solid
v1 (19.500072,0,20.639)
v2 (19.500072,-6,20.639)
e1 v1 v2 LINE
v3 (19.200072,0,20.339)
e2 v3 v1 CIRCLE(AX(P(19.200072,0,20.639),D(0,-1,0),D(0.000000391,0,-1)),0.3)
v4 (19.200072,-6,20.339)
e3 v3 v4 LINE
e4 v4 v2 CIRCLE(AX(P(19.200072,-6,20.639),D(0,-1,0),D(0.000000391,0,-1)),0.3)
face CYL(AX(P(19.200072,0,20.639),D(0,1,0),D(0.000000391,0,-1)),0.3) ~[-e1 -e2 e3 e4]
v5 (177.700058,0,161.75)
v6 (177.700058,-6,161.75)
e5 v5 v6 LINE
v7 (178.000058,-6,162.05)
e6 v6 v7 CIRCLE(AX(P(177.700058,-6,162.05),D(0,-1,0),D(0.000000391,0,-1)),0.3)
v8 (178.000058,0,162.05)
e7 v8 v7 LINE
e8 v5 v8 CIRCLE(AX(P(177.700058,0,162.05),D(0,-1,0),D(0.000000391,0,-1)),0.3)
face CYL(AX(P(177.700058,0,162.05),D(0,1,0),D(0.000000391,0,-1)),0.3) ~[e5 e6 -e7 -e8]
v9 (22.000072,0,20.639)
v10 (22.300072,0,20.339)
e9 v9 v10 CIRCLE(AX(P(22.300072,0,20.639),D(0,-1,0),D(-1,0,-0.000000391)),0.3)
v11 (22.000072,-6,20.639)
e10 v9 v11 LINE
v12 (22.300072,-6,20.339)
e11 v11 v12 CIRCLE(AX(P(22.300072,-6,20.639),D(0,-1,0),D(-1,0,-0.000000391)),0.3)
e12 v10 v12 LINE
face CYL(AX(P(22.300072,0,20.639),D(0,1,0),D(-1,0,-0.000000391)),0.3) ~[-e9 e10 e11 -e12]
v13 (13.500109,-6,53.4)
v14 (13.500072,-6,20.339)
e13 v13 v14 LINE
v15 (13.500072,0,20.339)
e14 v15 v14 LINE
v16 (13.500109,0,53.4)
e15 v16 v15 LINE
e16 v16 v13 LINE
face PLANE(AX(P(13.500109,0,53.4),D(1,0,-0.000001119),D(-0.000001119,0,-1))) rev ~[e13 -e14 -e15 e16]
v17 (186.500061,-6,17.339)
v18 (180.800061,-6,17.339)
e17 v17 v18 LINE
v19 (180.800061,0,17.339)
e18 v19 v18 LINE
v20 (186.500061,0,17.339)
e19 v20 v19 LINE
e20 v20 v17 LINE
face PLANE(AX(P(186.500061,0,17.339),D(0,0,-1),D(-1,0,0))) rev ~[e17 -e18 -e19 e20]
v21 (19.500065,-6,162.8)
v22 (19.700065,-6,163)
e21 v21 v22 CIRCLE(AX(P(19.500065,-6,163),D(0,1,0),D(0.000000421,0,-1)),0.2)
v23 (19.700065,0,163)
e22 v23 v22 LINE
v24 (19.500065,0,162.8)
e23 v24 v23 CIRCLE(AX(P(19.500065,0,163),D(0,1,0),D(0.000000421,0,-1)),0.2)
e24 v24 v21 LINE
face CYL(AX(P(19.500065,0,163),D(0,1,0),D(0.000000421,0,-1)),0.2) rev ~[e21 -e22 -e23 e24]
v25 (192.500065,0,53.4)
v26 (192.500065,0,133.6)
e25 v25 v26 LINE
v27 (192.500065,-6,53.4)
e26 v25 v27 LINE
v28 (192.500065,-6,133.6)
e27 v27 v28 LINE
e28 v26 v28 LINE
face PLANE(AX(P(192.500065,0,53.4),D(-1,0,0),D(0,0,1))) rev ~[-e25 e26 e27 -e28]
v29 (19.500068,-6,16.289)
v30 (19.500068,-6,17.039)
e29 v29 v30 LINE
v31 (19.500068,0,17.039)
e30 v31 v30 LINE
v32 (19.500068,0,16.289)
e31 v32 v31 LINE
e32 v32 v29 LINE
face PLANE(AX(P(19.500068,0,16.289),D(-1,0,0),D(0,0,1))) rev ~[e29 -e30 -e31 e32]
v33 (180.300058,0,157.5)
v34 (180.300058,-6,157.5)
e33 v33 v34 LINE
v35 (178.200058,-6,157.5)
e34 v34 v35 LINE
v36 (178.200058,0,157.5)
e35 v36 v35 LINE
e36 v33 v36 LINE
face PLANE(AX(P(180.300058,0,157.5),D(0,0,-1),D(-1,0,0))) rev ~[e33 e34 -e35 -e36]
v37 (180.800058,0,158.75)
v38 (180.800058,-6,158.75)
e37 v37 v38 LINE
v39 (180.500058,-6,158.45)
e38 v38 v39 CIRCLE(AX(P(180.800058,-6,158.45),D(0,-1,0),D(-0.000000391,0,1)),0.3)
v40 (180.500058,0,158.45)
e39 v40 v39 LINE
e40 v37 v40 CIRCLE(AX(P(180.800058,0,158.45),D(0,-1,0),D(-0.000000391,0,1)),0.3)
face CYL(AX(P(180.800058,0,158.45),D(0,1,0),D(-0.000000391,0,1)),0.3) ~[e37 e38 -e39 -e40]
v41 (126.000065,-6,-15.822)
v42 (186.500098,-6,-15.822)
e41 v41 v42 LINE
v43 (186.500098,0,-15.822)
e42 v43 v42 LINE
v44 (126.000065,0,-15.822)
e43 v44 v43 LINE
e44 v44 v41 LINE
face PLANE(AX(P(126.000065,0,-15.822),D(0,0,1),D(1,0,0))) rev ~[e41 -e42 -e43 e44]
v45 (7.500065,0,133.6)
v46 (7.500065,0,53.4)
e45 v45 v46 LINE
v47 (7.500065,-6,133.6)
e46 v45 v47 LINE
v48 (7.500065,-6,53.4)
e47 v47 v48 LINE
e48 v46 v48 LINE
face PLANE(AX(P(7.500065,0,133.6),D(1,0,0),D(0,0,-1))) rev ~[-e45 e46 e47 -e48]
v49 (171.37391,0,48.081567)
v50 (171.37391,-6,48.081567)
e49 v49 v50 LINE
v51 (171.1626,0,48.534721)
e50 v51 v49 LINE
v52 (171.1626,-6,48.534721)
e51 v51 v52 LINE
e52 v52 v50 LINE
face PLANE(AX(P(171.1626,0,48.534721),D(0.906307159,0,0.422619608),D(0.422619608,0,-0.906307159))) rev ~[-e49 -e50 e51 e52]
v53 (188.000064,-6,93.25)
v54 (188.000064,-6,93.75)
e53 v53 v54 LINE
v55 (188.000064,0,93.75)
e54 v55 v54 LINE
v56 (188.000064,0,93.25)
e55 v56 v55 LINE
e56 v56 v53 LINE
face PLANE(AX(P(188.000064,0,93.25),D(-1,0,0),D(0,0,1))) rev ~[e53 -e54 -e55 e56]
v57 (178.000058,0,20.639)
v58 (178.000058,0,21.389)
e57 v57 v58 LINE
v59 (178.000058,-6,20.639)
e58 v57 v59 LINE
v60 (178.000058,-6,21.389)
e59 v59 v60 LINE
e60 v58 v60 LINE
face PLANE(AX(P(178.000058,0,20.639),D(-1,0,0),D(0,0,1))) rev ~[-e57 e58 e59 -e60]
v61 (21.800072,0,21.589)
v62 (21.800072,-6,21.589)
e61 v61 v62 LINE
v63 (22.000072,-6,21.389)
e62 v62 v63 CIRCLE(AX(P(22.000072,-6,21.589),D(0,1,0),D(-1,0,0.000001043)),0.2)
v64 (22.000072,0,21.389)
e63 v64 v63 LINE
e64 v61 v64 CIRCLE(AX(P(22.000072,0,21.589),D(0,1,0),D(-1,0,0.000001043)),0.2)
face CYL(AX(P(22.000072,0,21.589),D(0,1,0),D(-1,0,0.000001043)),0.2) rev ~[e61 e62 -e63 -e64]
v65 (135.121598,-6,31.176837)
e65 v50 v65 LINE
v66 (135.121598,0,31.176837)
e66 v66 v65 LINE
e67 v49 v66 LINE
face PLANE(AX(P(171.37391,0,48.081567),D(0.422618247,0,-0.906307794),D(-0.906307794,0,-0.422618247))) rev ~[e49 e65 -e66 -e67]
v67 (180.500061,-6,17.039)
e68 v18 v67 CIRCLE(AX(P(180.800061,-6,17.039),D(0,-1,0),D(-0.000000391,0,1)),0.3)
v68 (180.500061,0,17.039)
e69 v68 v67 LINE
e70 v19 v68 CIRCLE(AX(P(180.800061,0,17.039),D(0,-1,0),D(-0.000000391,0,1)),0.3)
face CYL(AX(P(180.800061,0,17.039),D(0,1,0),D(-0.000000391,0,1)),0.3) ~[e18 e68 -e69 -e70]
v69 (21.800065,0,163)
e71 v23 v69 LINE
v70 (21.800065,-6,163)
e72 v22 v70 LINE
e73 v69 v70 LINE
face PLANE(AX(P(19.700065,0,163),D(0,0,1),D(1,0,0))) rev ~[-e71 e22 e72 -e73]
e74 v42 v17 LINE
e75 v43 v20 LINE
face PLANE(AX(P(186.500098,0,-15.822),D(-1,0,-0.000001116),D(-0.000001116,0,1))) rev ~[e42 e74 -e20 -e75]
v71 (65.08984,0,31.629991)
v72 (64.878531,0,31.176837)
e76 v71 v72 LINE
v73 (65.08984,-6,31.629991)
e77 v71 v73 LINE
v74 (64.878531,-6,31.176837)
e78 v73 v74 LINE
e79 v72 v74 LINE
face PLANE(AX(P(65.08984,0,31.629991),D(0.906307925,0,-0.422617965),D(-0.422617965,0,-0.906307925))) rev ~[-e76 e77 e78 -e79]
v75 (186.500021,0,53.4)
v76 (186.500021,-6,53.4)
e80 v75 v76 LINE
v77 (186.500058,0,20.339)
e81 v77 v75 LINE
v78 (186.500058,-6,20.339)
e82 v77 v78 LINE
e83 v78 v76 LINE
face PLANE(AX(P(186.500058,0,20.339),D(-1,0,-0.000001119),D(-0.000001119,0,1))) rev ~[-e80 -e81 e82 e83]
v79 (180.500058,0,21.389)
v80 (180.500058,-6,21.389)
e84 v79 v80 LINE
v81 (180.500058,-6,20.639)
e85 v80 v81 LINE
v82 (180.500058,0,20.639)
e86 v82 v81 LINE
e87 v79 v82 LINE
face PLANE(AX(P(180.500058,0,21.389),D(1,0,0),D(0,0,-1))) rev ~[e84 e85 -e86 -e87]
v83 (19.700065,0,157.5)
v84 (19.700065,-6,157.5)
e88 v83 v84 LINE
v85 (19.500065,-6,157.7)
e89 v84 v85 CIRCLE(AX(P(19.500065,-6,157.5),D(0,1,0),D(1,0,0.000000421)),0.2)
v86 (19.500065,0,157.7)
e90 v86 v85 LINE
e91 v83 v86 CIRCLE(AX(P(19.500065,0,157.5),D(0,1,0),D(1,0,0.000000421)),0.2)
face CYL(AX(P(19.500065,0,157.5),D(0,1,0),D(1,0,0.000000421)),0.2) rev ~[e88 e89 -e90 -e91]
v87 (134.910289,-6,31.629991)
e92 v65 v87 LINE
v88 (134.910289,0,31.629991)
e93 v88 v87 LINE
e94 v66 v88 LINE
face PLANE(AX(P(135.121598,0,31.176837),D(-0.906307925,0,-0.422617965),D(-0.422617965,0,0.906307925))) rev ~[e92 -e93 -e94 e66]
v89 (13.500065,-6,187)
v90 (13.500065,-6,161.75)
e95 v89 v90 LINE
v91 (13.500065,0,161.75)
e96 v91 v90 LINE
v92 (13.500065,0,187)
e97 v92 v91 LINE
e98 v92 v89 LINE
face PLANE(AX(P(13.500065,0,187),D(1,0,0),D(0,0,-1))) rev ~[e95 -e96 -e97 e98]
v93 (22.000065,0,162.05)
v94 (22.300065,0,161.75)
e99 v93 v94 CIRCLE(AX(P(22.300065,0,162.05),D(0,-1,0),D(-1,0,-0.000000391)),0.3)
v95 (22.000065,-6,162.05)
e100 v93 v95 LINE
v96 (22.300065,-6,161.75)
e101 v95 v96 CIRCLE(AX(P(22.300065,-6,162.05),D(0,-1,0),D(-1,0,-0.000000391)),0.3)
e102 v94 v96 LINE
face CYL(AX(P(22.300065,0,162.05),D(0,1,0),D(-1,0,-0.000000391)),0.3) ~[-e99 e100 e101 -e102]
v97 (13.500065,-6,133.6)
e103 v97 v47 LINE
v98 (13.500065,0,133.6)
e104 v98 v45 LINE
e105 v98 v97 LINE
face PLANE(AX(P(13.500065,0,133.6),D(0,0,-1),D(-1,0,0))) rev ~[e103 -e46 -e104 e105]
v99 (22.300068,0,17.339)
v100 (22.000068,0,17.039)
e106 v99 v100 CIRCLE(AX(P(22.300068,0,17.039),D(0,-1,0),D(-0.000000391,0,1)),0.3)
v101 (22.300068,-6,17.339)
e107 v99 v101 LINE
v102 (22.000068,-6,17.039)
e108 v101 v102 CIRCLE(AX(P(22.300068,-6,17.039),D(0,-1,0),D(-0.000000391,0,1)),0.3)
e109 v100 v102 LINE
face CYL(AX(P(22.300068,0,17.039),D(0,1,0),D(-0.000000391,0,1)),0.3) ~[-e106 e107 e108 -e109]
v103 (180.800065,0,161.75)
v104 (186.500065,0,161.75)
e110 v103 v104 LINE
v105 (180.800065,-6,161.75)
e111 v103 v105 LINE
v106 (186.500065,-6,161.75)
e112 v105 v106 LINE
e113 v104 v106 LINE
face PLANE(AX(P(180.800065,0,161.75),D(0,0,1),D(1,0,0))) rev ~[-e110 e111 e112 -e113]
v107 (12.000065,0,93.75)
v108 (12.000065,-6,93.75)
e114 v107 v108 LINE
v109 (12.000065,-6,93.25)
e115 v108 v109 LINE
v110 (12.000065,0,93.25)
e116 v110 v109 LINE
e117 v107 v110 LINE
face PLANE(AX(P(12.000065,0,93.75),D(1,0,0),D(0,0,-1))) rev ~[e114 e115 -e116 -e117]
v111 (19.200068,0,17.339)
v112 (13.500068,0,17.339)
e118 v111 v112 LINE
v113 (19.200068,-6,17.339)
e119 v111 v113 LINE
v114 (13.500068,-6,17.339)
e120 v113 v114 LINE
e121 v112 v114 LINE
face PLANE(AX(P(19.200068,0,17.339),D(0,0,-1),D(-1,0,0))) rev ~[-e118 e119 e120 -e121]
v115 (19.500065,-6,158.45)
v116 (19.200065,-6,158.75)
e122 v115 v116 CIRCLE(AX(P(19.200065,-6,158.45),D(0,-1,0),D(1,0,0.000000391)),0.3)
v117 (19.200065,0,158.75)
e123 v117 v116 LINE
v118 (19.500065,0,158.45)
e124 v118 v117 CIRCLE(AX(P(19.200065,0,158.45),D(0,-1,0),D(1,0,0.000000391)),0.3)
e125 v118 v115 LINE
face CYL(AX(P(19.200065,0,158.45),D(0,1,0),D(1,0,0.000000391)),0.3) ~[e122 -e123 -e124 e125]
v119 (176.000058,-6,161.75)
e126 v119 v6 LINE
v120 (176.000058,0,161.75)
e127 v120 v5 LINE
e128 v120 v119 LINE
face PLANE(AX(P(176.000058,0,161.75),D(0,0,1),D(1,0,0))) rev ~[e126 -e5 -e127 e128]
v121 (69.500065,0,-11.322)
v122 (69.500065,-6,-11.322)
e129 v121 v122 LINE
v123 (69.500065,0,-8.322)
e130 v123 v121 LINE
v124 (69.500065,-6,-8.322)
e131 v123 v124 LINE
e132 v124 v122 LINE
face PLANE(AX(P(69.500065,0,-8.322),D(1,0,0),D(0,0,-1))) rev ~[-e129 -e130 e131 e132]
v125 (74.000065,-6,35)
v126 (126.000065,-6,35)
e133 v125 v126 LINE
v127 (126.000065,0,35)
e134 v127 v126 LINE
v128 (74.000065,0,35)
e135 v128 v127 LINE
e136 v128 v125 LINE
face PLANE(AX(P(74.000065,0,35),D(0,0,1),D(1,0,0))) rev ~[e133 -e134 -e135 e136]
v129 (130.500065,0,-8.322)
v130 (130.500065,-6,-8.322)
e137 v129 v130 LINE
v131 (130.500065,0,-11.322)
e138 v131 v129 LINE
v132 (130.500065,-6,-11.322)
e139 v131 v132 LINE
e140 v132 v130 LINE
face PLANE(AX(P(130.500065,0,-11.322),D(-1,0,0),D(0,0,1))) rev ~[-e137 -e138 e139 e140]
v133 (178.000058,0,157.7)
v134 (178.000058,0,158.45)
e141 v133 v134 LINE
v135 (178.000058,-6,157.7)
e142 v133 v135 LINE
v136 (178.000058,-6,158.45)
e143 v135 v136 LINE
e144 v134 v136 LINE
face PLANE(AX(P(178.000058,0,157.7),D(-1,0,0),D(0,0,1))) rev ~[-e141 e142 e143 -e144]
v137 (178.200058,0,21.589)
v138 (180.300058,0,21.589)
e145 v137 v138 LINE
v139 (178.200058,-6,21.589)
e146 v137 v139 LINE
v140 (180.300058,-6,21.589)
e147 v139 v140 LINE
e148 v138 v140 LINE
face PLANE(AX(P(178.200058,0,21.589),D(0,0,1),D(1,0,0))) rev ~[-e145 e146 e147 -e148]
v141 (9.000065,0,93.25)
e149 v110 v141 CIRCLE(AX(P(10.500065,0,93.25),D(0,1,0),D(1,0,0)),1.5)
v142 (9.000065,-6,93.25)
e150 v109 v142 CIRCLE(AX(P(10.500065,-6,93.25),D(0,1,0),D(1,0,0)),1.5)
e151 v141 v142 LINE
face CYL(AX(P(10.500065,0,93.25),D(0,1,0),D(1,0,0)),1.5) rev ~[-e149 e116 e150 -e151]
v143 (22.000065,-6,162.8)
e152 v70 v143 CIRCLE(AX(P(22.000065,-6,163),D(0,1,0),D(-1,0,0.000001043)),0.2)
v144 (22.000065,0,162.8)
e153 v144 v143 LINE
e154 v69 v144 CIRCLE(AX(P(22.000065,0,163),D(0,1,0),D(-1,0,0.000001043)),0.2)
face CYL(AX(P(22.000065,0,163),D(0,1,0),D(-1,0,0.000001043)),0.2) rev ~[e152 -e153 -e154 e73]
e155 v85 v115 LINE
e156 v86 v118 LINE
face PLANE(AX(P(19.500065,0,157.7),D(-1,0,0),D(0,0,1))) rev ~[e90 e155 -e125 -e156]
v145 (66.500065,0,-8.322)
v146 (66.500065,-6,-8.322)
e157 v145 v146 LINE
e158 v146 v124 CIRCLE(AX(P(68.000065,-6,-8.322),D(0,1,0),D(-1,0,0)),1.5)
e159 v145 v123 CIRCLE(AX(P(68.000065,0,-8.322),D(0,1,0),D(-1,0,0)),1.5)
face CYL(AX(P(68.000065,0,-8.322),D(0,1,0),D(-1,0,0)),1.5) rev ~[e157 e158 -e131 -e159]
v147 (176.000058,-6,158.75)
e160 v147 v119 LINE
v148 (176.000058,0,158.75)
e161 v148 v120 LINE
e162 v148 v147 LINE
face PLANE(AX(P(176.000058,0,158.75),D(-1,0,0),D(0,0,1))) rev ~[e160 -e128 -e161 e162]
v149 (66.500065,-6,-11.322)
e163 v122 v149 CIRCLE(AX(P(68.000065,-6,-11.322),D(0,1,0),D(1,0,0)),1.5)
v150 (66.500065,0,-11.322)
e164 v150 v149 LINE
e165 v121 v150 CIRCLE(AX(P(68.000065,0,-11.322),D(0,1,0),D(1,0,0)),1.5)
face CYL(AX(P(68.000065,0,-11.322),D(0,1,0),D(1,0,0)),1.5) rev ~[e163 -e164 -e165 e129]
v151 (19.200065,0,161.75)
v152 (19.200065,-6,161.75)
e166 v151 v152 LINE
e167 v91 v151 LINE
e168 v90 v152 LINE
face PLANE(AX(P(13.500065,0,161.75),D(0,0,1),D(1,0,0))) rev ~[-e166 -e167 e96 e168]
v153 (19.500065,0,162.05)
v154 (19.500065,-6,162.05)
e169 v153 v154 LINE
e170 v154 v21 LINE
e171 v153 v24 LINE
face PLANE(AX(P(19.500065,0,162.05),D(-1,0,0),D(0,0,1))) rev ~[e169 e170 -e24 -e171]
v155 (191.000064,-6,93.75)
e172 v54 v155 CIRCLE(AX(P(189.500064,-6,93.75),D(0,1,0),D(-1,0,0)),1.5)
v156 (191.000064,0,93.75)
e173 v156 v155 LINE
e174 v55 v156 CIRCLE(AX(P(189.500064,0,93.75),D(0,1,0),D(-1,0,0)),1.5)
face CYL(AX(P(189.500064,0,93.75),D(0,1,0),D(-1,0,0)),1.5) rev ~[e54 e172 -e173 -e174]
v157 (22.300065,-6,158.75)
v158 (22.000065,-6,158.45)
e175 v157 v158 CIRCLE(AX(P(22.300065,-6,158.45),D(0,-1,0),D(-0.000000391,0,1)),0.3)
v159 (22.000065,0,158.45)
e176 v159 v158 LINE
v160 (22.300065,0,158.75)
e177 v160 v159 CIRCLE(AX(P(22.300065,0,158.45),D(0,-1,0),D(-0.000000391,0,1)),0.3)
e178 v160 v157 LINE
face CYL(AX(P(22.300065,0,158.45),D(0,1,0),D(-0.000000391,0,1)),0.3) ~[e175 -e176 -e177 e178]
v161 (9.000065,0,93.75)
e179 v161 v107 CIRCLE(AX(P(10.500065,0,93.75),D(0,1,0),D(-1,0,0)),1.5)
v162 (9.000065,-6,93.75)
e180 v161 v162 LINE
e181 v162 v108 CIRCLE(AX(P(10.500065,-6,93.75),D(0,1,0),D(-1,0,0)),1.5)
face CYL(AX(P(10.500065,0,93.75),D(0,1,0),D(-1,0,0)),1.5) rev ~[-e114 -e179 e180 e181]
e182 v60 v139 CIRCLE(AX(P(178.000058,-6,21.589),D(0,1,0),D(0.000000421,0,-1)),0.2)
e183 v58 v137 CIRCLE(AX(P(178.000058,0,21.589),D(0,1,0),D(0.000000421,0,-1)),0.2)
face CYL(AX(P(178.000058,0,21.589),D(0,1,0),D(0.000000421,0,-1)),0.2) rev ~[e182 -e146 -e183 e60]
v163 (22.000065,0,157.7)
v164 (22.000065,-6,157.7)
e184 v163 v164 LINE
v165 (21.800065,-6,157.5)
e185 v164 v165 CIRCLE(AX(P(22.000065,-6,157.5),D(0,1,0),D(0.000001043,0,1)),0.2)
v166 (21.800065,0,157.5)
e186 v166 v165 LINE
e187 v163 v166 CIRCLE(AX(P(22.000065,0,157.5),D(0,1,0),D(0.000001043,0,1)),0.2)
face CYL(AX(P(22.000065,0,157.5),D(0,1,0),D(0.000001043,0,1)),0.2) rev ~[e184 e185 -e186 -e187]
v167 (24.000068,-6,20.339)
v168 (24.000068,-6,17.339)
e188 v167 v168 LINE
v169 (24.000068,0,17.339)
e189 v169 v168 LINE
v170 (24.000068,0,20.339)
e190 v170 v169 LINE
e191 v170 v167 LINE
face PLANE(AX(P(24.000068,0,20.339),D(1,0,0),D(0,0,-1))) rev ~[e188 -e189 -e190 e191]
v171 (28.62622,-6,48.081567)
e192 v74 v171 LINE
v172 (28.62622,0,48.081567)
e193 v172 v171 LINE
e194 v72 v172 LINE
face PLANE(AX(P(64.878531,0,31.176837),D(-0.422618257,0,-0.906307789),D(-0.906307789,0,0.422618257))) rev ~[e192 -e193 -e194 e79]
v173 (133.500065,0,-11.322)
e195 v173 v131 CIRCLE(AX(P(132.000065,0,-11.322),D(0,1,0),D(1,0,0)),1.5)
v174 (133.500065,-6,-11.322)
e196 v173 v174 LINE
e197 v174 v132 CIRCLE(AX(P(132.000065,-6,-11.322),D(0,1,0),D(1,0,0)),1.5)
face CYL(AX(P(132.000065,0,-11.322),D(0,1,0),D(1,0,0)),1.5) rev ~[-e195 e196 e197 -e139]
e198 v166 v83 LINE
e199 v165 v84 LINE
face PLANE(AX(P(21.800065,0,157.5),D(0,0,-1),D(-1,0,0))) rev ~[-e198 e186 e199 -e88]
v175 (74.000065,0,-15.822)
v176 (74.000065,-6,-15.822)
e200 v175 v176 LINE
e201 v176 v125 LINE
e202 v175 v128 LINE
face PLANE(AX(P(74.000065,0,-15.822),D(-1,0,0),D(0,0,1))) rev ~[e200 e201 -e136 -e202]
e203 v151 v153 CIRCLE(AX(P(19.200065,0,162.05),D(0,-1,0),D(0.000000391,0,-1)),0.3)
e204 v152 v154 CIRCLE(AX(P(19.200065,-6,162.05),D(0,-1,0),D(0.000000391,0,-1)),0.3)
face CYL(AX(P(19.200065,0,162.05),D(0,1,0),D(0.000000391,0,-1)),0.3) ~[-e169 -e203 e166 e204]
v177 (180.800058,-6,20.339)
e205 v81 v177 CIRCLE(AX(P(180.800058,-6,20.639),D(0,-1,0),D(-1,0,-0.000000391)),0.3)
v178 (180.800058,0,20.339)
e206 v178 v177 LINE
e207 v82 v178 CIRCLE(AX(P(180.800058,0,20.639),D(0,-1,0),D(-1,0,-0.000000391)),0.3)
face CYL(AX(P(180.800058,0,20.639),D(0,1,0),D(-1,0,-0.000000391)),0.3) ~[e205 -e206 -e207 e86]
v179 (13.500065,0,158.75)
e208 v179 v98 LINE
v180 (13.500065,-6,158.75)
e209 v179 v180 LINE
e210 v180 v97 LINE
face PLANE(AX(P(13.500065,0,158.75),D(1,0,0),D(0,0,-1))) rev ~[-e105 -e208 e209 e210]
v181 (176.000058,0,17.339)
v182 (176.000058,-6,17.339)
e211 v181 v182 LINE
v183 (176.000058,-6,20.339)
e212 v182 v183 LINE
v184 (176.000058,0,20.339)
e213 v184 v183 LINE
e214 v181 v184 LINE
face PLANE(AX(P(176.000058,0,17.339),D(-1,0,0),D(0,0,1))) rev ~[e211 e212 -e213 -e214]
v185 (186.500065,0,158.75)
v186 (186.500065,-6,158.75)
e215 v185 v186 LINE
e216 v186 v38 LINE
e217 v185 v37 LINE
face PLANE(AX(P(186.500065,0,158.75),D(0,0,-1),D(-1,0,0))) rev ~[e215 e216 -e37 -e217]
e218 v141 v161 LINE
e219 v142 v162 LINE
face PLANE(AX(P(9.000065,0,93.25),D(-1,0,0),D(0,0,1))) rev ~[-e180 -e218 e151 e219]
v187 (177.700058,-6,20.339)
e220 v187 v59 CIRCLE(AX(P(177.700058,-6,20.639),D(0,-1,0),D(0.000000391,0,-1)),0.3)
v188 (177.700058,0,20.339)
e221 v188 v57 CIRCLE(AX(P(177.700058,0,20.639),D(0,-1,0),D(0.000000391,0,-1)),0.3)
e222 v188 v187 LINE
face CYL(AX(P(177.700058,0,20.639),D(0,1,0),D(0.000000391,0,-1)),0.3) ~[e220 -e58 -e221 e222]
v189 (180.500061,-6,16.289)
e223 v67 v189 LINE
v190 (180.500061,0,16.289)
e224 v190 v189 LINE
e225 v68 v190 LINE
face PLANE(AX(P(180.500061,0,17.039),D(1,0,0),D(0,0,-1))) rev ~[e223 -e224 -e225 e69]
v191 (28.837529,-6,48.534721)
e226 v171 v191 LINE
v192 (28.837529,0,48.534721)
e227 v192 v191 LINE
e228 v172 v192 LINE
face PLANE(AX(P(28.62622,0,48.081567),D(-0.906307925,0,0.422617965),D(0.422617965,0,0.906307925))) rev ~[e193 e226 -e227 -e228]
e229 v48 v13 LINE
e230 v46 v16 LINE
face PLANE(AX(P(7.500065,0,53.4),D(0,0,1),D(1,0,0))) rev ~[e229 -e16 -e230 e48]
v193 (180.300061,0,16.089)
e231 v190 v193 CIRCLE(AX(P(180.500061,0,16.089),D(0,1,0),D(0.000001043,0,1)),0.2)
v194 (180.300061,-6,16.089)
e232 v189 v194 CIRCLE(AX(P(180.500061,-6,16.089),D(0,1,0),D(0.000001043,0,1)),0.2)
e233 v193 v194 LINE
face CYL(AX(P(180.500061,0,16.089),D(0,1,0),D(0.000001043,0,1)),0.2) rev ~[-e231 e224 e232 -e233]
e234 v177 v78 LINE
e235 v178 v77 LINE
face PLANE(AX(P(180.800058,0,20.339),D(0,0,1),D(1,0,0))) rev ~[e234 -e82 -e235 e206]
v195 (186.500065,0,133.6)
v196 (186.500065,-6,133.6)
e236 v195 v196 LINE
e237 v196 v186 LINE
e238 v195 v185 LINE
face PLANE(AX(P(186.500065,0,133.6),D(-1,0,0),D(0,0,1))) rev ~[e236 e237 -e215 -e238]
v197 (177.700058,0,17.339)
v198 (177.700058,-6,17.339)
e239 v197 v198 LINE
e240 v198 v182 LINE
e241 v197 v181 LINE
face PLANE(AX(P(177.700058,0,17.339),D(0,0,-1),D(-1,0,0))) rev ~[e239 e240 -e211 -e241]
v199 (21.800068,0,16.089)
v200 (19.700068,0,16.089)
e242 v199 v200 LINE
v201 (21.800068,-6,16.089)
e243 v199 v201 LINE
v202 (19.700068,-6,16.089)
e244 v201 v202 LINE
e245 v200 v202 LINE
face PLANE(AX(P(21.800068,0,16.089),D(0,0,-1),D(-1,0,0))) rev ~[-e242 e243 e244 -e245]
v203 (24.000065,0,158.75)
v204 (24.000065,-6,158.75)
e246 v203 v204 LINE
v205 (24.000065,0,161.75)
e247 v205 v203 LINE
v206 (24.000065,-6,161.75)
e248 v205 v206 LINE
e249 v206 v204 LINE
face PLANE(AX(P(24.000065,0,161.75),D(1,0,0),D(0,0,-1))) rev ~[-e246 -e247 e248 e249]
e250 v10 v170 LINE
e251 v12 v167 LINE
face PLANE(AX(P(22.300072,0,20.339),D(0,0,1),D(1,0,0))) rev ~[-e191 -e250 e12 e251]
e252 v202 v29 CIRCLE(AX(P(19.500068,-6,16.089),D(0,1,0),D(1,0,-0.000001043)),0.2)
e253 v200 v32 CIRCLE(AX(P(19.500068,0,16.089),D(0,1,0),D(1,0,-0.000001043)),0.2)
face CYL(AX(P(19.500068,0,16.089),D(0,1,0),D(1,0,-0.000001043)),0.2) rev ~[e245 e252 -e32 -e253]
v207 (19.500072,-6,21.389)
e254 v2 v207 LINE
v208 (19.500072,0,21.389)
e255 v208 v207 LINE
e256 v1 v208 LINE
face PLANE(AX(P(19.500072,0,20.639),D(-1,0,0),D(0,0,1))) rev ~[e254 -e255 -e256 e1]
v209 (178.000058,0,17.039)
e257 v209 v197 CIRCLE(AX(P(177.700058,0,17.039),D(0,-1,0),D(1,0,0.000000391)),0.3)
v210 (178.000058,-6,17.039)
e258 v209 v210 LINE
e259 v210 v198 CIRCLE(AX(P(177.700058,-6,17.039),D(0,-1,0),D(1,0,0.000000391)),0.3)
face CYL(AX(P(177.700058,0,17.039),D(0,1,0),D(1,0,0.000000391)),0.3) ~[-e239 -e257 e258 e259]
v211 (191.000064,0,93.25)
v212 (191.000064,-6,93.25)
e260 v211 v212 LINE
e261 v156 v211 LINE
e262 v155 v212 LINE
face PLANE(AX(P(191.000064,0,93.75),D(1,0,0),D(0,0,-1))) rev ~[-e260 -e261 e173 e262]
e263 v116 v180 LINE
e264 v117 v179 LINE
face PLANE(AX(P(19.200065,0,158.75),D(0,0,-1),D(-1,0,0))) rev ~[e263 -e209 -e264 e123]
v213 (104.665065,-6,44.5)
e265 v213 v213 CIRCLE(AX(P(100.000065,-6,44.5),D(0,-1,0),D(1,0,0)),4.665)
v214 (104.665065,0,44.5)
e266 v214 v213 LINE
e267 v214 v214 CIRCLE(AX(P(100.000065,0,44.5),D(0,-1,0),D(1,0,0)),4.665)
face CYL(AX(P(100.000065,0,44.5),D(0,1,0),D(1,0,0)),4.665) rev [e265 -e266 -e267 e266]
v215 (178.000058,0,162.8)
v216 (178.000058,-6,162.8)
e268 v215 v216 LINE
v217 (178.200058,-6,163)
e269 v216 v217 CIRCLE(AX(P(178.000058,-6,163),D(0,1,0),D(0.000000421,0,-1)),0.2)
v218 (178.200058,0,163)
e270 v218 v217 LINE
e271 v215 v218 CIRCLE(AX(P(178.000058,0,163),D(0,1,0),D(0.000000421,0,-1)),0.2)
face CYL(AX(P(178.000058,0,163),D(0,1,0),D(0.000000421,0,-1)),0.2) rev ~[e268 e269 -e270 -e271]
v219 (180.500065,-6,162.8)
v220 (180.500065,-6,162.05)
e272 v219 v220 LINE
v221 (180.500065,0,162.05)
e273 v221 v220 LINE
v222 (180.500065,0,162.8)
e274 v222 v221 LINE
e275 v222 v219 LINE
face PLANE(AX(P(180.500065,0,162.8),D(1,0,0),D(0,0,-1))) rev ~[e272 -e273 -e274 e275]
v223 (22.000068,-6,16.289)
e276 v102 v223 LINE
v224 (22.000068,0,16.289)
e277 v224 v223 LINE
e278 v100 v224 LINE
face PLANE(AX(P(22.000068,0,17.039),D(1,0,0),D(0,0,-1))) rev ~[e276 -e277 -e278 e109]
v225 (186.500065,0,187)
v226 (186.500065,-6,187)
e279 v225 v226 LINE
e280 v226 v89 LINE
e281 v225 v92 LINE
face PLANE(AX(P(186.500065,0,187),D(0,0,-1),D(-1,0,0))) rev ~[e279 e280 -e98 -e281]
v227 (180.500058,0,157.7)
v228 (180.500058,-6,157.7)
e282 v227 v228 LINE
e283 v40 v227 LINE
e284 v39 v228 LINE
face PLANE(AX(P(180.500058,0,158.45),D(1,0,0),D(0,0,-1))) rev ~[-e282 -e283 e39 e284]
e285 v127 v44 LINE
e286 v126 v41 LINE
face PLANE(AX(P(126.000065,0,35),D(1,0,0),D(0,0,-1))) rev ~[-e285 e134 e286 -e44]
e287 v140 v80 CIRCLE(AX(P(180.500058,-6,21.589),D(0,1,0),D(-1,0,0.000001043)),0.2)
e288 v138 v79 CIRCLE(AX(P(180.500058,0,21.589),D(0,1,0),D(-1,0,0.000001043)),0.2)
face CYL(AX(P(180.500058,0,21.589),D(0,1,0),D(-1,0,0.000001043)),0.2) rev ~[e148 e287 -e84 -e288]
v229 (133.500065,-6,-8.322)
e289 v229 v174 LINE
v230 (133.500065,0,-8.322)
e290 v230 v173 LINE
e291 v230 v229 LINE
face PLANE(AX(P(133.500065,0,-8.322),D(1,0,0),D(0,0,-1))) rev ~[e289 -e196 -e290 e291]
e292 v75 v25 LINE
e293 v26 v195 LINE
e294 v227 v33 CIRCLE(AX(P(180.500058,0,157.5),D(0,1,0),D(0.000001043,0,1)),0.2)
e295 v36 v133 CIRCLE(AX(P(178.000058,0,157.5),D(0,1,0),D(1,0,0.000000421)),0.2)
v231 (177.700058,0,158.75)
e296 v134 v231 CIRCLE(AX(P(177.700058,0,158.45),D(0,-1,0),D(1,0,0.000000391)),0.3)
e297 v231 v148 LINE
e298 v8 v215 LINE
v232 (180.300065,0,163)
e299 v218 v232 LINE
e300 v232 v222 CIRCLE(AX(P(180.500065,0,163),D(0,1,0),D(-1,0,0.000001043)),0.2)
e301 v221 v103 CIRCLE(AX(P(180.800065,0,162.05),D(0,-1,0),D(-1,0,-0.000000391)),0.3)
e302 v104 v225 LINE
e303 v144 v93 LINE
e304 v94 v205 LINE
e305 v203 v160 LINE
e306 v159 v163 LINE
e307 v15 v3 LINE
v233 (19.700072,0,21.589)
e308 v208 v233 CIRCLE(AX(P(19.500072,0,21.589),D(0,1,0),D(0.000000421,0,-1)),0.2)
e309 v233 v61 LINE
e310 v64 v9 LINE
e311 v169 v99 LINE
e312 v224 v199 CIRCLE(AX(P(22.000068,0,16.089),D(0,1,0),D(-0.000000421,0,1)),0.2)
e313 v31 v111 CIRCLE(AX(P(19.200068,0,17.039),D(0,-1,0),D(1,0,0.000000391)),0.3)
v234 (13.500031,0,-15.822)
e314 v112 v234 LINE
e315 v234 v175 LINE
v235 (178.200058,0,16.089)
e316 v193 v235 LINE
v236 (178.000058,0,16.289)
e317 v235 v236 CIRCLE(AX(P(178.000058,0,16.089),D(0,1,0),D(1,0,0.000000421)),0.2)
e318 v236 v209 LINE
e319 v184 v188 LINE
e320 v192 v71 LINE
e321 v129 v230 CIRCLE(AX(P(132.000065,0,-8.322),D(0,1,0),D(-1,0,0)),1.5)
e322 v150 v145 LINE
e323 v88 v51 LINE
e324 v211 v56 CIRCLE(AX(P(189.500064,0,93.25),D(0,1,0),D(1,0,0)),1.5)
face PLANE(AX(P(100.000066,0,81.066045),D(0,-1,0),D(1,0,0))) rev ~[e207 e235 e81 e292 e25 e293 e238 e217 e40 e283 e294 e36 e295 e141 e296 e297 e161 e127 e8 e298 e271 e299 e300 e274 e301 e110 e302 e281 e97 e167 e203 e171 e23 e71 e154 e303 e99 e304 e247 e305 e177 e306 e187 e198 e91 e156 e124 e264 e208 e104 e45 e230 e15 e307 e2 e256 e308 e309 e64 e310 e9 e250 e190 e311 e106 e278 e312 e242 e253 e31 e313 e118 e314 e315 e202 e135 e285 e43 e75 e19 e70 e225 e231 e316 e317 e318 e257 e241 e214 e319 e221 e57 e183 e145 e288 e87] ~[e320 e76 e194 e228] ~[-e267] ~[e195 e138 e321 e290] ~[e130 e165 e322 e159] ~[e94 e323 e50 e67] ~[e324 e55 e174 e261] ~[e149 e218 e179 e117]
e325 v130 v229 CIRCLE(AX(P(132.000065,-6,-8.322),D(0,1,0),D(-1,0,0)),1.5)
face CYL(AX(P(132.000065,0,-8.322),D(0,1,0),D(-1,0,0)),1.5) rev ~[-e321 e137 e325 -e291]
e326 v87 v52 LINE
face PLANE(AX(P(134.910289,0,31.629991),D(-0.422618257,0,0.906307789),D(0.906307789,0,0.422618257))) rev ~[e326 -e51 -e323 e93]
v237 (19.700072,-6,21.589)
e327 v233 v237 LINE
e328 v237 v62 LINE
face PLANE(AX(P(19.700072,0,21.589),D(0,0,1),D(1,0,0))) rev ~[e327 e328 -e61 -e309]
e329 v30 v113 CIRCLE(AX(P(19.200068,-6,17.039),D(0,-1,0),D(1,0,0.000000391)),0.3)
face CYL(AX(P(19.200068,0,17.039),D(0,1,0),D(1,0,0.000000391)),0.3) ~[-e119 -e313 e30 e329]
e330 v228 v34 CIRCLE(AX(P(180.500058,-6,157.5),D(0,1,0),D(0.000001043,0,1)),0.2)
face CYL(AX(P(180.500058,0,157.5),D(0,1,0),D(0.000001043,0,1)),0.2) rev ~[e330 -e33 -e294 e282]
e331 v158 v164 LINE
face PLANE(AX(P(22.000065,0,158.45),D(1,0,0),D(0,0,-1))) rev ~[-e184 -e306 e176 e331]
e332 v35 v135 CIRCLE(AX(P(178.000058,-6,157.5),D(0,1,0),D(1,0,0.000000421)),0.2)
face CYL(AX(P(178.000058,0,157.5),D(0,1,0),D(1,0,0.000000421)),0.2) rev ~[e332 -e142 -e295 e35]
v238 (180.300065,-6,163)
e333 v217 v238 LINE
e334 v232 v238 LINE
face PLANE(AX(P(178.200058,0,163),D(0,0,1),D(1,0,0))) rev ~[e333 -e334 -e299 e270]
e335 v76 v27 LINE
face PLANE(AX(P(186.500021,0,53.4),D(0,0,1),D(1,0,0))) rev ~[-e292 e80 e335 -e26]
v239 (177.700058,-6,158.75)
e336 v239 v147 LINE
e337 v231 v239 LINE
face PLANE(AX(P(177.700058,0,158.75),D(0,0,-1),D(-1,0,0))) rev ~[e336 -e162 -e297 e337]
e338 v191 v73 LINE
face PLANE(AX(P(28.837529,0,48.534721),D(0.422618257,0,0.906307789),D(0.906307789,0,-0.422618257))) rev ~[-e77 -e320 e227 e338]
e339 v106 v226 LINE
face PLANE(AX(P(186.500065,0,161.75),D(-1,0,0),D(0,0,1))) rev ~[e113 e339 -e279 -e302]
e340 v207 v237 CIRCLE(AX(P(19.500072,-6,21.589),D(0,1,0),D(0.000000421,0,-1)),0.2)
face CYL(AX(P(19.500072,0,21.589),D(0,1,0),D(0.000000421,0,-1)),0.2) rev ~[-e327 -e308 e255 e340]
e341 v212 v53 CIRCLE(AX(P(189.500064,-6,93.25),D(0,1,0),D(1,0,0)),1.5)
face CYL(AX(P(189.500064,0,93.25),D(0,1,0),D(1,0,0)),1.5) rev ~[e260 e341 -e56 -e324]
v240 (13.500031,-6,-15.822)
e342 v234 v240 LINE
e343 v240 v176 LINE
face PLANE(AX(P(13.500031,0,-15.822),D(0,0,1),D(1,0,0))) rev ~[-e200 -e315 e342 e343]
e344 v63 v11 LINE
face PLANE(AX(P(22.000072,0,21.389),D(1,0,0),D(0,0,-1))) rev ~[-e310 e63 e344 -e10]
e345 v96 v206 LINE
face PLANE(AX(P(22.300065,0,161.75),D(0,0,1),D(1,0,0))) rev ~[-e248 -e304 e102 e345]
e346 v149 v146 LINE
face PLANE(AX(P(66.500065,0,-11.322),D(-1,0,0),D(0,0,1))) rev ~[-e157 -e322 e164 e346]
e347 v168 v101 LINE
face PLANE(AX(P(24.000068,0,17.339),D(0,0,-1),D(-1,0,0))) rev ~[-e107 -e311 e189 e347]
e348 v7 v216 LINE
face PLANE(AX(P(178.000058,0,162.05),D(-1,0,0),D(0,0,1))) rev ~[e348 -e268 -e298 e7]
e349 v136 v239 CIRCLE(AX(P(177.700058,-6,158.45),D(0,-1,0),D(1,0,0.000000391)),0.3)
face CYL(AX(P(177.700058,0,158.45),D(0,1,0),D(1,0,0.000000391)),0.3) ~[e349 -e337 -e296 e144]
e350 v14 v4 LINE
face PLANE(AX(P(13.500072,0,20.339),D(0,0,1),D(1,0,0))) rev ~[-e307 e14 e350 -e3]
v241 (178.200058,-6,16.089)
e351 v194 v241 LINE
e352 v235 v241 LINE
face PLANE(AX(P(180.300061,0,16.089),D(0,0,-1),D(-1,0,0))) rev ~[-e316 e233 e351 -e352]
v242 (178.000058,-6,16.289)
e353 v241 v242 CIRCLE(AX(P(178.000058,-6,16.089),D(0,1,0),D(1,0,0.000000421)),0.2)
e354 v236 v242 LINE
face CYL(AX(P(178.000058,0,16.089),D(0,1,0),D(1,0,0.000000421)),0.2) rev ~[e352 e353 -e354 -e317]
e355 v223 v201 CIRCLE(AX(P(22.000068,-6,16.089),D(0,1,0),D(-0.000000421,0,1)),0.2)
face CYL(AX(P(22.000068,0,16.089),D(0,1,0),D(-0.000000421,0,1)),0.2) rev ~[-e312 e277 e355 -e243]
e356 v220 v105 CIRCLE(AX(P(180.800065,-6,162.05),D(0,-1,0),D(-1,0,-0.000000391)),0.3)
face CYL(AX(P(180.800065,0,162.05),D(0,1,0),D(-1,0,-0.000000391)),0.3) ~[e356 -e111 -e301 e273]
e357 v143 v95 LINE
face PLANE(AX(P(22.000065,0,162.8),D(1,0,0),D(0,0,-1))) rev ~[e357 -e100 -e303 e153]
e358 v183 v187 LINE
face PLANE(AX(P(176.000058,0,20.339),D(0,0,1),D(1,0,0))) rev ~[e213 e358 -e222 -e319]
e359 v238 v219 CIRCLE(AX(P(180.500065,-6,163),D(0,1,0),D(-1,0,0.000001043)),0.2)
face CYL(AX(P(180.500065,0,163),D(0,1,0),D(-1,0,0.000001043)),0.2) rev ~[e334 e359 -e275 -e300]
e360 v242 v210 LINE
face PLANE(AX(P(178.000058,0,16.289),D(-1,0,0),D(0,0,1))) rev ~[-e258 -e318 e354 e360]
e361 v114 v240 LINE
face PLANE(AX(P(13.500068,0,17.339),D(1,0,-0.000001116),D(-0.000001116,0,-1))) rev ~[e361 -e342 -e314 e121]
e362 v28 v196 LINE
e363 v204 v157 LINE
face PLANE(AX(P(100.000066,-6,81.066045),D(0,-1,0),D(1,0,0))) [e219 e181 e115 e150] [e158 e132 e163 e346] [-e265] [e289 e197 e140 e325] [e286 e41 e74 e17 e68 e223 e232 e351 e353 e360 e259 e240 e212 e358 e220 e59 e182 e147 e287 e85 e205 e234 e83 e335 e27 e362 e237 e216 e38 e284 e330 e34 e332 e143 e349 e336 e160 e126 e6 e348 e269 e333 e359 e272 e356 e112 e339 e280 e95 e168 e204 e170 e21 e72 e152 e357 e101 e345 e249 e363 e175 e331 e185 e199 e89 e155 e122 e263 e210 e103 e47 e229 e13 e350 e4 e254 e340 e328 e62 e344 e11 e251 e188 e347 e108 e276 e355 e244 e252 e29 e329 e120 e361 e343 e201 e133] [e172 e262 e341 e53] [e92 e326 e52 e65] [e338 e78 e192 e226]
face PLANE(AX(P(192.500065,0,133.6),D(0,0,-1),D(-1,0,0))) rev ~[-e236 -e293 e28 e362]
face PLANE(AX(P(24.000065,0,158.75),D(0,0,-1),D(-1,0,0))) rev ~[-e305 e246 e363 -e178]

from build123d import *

# Parameters (mm, degrees)
F0_R     = 4.665
F1_DEPTH = 6


with BuildPart() as f1:
    # F0 (on Front) → F1 (new body)
    with BuildSketch(Plane.XZ):
        with BuildLine():
            Line((186.500065, 187), (13.500065, 187))
            Line((13.500065, 187), (13.500065, 161.75))
            Line((13.500065, 161.75), (19.200065, 161.75))
            ThreePointArc((19.200065, 161.75), (19.412197, 161.837868), (19.500065, 162.05))
            Line((19.500065, 162.05), (19.500065, 162.8))
            ThreePointArc((19.500065, 162.8), (19.358643, 163.141421), (19.700065, 163))
            Line((19.700065, 163), (21.800065, 163))
            ThreePointArc((21.800065, 163), (22.141486, 163.141421), (22.000065, 162.8))
            Line((22.000065, 162.8), (22.000065, 162.05))
            ThreePointArc((22.000065, 162.05), (22.087933, 161.837868), (22.300065, 161.75))
            Line((22.300065, 161.75), (24.000065, 161.75))
            Line((24.000065, 161.75), (24.000065, 158.75))
            Line((24.000065, 158.75), (22.300065, 158.75))
            ThreePointArc((22.300065, 158.75), (22.087933, 158.662132), (22.000065, 158.45))
            Line((22.000065, 158.45), (22.000065, 157.7))
            ThreePointArc((22.000065, 157.7), (22.141486, 157.358579), (21.800065, 157.5))
            Line((21.800065, 157.5), (19.700065, 157.5))
            ThreePointArc((19.700065, 157.5), (19.358643, 157.358579), (19.500065, 157.7))
            Line((19.500065, 157.7), (19.500065, 158.45))
            ThreePointArc((19.500065, 158.45), (19.412197, 158.662132), (19.200065, 158.75))
            Line((19.200065, 158.75), (13.500065, 158.75))
            Line((13.500065, 158.75), (13.500065, 133.6))
            Line((13.500065, 133.6), (7.500065, 133.6))
            Line((7.500065, 133.6), (7.500065, 133.5))
            Line((7.500065, 133.5), (7.500065, 53.5))
            Line((7.500065, 53.5), (7.500065, 53.4))
            Line((7.500065, 53.4), (13.500109, 53.4))
            Line((13.500109, 53.4), (13.500072, 20.339))
            Line((13.500072, 20.339), (19.200072, 20.339))
            ThreePointArc((19.200072, 20.339), (19.412204, 20.426868), (19.500072, 20.639))
            Line((19.500072, 20.639), (19.500072, 21.389))
            ThreePointArc((19.500072, 21.389), (19.35865, 21.730421), (19.700072, 21.589))
            Line((19.700072, 21.589), (21.800072, 21.589))
            ThreePointArc((21.800072, 21.589), (22.141493, 21.730421), (22.000072, 21.389))
            Line((22.000072, 21.389), (22.000072, 20.639))
            ThreePointArc((22.000072, 20.639), (22.08794, 20.426868), (22.300072, 20.339))
            Line((22.300072, 20.339), (24.000068, 20.339))
            Line((24.000068, 20.339), (24.000068, 17.339))
            Line((24.000068, 17.339), (22.300068, 17.339))
            ThreePointArc((22.300068, 17.339), (22.087936, 17.251132), (22.000068, 17.039))
            Line((22.000068, 17.039), (22.000068, 16.289))
            ThreePointArc((22.000068, 16.289), (22.14149, 15.947579), (21.800068, 16.089))
            Line((21.800068, 16.089), (19.700068, 16.089))
            ThreePointArc((19.700068, 16.089), (19.358647, 15.947579), (19.500068, 16.289))
            Line((19.500068, 16.289), (19.500068, 17.039))
            ThreePointArc((19.500068, 17.039), (19.4122, 17.251132), (19.200068, 17.339))
            Line((19.200068, 17.339), (13.500068, 17.339))
            Line((13.500068, 17.339), (13.500031, -15.822))
            Line((13.500031, -15.822), (74.000065, -15.822))
            Line((74.000065, -15.822), (74.000065, 0))
            Line((74.000065, 0), (74.000065, 35))
            Line((74.000065, 35), (126.000065, 35))
            Line((126.000065, 35), (126.000065, 0))
            Line((126.000065, 0), (126.000065, -15.822))
            Line((126.000065, -15.822), (186.500098, -15.822))
            Line((186.500098, -15.822), (186.500061, 17.339))
            Line((186.500061, 17.339), (180.800061, 17.339))
            ThreePointArc((180.800061, 17.339), (180.587929, 17.251132), (180.500061, 17.039))
            Line((180.500061, 17.039), (180.500061, 16.289))
            ThreePointArc((180.500061, 16.289), (180.641482, 15.947579), (180.300061, 16.089))
            Line((180.300061, 16.089), (178.200058, 16.089))
            ThreePointArc((178.200058, 16.089), (177.858636, 15.947579), (178.000058, 16.289))
            Line((178.000058, 16.289), (178.000058, 17.039))
            ThreePointArc((178.000058, 17.039), (177.91219, 17.251132), (177.700058, 17.339))
            Line((177.700058, 17.339), (176.000058, 17.339))
            Line((176.000058, 17.339), (176.000058, 20.339))
            Line((176.000058, 20.339), (177.700058, 20.339))
            ThreePointArc((177.700058, 20.339), (177.91219, 20.426868), (178.000058, 20.639))
            Line((178.000058, 20.639), (178.000058, 21.389))
            ThreePointArc((178.000058, 21.389), (177.858636, 21.730421), (178.200058, 21.589))
            Line((178.200058, 21.589), (180.300058, 21.589))
            ThreePointArc((180.300058, 21.589), (180.641479, 21.730421), (180.500058, 21.389))
            Line((180.500058, 21.389), (180.500058, 20.639))
            ThreePointArc((180.500058, 20.639), (180.587926, 20.426868), (180.800058, 20.339))
            Line((180.800058, 20.339), (186.500058, 20.339))
            Line((186.500058, 20.339), (186.500021, 53.4))
            Line((186.500021, 53.4), (192.500065, 53.4))
            Line((192.500065, 53.4), (192.500065, 53.5))
            Line((192.500065, 53.5), (192.500065, 133.5))
            Line((192.500065, 133.5), (192.500065, 133.6))
            Line((192.500065, 133.6), (186.500065, 133.6))
            Line((186.500065, 133.6), (186.500065, 158.75))
            Line((186.500065, 158.75), (180.800058, 158.75))
            ThreePointArc((180.800058, 158.75), (180.587926, 158.662132), (180.500058, 158.45))
            Line((180.500058, 158.45), (180.500058, 157.7))
            ThreePointArc((180.500058, 157.7), (180.641479, 157.358579), (180.300058, 157.5))
            Line((180.300058, 157.5), (178.200058, 157.5))
            ThreePointArc((178.200058, 157.5), (177.858636, 157.358579), (178.000058, 157.7))
            Line((178.000058, 157.7), (178.000058, 158.45))
            ThreePointArc((178.000058, 158.45), (177.91219, 158.662132), (177.700058, 158.75))
            Line((177.700058, 158.75), (176.000058, 158.75))
            Line((176.000058, 158.75), (176.000058, 161.75))
            Line((176.000058, 161.75), (177.700058, 161.75))
            ThreePointArc((177.700058, 161.75), (177.91219, 161.837868), (178.000058, 162.05))
            Line((178.000058, 162.05), (178.000058, 162.8))
            ThreePointArc((178.000058, 162.8), (177.858636, 163.141421), (178.200058, 163))
            Line((178.200058, 163), (180.300065, 163))
            ThreePointArc((180.300065, 163), (180.641486, 163.141421), (180.500065, 162.8))
            Line((180.500065, 162.8), (180.500065, 162.05))
            ThreePointArc((180.500065, 162.05), (180.587933, 161.837868), (180.800065, 161.75))
            Line((180.800065, 161.75), (186.500065, 161.75))
            Line((186.500065, 161.75), (186.500065, 187))
        make_face()
        with BuildLine():
            Line((66.500065, -11.322), (66.500065, -8.322))
            ThreePointArc((66.500065, -8.322), (68.000065, -6.822), (69.500065, -8.322))
            Line((69.500065, -8.322), (69.500065, -11.322))
            ThreePointArc((69.500065, -11.322), (68.000065, -12.822), (66.500065, -11.322))
        make_face(mode=Mode.SUBTRACT)
        Polygon((28.62622, 48.081567), (28.837529, 48.534721), (65.08984, 31.629991), (64.878531, 31.176837), align=None, mode=Mode.SUBTRACT)
        with BuildLine():
            Line((130.500065, -11.322), (130.500065, -8.322))
            ThreePointArc((130.500065, -8.322), (132.000065, -6.822), (133.500065, -8.322))
            Line((133.500065, -8.322), (133.500065, -11.322))
            ThreePointArc((133.500065, -11.322), (132.000065, -12.822), (130.500065, -11.322))
        make_face(mode=Mode.SUBTRACT)
        with Locations((100.000065, 44.5)):
            Circle(F0_R, mode=Mode.SUBTRACT)
        Polygon((135.121598, 31.176837), (134.910289, 31.629991), (171.1626, 48.534721), (171.37391, 48.081567), align=None, mode=Mode.SUBTRACT)
        with BuildLine():
            ThreePointArc((9.000065, 93.75), (10.500065, 95.25), (12.000065, 93.75))
            Line((12.000065, 93.75), (12.000065, 93.25))
            ThreePointArc((12.000065, 93.25), (10.500065, 91.75), (9.000065, 93.25))
            Line((9.000065, 93.25), (9.000065, 93.75))
        make_face(mode=Mode.SUBTRACT)
        with BuildLine():
            Line((191.000064, 93.75), (191.000064, 93.25))
            ThreePointArc((191.000064, 93.25), (189.500064, 91.75), (188.000064, 93.25))
            Line((188.000064, 93.25), (188.000064, 93.75))
            ThreePointArc((188.000064, 93.75), (189.500064, 95.25), (191.000064, 93.75))
        make_face(mode=Mode.SUBTRACT)
    extrude(amount=F1_DEPTH)


solid = f1.part
